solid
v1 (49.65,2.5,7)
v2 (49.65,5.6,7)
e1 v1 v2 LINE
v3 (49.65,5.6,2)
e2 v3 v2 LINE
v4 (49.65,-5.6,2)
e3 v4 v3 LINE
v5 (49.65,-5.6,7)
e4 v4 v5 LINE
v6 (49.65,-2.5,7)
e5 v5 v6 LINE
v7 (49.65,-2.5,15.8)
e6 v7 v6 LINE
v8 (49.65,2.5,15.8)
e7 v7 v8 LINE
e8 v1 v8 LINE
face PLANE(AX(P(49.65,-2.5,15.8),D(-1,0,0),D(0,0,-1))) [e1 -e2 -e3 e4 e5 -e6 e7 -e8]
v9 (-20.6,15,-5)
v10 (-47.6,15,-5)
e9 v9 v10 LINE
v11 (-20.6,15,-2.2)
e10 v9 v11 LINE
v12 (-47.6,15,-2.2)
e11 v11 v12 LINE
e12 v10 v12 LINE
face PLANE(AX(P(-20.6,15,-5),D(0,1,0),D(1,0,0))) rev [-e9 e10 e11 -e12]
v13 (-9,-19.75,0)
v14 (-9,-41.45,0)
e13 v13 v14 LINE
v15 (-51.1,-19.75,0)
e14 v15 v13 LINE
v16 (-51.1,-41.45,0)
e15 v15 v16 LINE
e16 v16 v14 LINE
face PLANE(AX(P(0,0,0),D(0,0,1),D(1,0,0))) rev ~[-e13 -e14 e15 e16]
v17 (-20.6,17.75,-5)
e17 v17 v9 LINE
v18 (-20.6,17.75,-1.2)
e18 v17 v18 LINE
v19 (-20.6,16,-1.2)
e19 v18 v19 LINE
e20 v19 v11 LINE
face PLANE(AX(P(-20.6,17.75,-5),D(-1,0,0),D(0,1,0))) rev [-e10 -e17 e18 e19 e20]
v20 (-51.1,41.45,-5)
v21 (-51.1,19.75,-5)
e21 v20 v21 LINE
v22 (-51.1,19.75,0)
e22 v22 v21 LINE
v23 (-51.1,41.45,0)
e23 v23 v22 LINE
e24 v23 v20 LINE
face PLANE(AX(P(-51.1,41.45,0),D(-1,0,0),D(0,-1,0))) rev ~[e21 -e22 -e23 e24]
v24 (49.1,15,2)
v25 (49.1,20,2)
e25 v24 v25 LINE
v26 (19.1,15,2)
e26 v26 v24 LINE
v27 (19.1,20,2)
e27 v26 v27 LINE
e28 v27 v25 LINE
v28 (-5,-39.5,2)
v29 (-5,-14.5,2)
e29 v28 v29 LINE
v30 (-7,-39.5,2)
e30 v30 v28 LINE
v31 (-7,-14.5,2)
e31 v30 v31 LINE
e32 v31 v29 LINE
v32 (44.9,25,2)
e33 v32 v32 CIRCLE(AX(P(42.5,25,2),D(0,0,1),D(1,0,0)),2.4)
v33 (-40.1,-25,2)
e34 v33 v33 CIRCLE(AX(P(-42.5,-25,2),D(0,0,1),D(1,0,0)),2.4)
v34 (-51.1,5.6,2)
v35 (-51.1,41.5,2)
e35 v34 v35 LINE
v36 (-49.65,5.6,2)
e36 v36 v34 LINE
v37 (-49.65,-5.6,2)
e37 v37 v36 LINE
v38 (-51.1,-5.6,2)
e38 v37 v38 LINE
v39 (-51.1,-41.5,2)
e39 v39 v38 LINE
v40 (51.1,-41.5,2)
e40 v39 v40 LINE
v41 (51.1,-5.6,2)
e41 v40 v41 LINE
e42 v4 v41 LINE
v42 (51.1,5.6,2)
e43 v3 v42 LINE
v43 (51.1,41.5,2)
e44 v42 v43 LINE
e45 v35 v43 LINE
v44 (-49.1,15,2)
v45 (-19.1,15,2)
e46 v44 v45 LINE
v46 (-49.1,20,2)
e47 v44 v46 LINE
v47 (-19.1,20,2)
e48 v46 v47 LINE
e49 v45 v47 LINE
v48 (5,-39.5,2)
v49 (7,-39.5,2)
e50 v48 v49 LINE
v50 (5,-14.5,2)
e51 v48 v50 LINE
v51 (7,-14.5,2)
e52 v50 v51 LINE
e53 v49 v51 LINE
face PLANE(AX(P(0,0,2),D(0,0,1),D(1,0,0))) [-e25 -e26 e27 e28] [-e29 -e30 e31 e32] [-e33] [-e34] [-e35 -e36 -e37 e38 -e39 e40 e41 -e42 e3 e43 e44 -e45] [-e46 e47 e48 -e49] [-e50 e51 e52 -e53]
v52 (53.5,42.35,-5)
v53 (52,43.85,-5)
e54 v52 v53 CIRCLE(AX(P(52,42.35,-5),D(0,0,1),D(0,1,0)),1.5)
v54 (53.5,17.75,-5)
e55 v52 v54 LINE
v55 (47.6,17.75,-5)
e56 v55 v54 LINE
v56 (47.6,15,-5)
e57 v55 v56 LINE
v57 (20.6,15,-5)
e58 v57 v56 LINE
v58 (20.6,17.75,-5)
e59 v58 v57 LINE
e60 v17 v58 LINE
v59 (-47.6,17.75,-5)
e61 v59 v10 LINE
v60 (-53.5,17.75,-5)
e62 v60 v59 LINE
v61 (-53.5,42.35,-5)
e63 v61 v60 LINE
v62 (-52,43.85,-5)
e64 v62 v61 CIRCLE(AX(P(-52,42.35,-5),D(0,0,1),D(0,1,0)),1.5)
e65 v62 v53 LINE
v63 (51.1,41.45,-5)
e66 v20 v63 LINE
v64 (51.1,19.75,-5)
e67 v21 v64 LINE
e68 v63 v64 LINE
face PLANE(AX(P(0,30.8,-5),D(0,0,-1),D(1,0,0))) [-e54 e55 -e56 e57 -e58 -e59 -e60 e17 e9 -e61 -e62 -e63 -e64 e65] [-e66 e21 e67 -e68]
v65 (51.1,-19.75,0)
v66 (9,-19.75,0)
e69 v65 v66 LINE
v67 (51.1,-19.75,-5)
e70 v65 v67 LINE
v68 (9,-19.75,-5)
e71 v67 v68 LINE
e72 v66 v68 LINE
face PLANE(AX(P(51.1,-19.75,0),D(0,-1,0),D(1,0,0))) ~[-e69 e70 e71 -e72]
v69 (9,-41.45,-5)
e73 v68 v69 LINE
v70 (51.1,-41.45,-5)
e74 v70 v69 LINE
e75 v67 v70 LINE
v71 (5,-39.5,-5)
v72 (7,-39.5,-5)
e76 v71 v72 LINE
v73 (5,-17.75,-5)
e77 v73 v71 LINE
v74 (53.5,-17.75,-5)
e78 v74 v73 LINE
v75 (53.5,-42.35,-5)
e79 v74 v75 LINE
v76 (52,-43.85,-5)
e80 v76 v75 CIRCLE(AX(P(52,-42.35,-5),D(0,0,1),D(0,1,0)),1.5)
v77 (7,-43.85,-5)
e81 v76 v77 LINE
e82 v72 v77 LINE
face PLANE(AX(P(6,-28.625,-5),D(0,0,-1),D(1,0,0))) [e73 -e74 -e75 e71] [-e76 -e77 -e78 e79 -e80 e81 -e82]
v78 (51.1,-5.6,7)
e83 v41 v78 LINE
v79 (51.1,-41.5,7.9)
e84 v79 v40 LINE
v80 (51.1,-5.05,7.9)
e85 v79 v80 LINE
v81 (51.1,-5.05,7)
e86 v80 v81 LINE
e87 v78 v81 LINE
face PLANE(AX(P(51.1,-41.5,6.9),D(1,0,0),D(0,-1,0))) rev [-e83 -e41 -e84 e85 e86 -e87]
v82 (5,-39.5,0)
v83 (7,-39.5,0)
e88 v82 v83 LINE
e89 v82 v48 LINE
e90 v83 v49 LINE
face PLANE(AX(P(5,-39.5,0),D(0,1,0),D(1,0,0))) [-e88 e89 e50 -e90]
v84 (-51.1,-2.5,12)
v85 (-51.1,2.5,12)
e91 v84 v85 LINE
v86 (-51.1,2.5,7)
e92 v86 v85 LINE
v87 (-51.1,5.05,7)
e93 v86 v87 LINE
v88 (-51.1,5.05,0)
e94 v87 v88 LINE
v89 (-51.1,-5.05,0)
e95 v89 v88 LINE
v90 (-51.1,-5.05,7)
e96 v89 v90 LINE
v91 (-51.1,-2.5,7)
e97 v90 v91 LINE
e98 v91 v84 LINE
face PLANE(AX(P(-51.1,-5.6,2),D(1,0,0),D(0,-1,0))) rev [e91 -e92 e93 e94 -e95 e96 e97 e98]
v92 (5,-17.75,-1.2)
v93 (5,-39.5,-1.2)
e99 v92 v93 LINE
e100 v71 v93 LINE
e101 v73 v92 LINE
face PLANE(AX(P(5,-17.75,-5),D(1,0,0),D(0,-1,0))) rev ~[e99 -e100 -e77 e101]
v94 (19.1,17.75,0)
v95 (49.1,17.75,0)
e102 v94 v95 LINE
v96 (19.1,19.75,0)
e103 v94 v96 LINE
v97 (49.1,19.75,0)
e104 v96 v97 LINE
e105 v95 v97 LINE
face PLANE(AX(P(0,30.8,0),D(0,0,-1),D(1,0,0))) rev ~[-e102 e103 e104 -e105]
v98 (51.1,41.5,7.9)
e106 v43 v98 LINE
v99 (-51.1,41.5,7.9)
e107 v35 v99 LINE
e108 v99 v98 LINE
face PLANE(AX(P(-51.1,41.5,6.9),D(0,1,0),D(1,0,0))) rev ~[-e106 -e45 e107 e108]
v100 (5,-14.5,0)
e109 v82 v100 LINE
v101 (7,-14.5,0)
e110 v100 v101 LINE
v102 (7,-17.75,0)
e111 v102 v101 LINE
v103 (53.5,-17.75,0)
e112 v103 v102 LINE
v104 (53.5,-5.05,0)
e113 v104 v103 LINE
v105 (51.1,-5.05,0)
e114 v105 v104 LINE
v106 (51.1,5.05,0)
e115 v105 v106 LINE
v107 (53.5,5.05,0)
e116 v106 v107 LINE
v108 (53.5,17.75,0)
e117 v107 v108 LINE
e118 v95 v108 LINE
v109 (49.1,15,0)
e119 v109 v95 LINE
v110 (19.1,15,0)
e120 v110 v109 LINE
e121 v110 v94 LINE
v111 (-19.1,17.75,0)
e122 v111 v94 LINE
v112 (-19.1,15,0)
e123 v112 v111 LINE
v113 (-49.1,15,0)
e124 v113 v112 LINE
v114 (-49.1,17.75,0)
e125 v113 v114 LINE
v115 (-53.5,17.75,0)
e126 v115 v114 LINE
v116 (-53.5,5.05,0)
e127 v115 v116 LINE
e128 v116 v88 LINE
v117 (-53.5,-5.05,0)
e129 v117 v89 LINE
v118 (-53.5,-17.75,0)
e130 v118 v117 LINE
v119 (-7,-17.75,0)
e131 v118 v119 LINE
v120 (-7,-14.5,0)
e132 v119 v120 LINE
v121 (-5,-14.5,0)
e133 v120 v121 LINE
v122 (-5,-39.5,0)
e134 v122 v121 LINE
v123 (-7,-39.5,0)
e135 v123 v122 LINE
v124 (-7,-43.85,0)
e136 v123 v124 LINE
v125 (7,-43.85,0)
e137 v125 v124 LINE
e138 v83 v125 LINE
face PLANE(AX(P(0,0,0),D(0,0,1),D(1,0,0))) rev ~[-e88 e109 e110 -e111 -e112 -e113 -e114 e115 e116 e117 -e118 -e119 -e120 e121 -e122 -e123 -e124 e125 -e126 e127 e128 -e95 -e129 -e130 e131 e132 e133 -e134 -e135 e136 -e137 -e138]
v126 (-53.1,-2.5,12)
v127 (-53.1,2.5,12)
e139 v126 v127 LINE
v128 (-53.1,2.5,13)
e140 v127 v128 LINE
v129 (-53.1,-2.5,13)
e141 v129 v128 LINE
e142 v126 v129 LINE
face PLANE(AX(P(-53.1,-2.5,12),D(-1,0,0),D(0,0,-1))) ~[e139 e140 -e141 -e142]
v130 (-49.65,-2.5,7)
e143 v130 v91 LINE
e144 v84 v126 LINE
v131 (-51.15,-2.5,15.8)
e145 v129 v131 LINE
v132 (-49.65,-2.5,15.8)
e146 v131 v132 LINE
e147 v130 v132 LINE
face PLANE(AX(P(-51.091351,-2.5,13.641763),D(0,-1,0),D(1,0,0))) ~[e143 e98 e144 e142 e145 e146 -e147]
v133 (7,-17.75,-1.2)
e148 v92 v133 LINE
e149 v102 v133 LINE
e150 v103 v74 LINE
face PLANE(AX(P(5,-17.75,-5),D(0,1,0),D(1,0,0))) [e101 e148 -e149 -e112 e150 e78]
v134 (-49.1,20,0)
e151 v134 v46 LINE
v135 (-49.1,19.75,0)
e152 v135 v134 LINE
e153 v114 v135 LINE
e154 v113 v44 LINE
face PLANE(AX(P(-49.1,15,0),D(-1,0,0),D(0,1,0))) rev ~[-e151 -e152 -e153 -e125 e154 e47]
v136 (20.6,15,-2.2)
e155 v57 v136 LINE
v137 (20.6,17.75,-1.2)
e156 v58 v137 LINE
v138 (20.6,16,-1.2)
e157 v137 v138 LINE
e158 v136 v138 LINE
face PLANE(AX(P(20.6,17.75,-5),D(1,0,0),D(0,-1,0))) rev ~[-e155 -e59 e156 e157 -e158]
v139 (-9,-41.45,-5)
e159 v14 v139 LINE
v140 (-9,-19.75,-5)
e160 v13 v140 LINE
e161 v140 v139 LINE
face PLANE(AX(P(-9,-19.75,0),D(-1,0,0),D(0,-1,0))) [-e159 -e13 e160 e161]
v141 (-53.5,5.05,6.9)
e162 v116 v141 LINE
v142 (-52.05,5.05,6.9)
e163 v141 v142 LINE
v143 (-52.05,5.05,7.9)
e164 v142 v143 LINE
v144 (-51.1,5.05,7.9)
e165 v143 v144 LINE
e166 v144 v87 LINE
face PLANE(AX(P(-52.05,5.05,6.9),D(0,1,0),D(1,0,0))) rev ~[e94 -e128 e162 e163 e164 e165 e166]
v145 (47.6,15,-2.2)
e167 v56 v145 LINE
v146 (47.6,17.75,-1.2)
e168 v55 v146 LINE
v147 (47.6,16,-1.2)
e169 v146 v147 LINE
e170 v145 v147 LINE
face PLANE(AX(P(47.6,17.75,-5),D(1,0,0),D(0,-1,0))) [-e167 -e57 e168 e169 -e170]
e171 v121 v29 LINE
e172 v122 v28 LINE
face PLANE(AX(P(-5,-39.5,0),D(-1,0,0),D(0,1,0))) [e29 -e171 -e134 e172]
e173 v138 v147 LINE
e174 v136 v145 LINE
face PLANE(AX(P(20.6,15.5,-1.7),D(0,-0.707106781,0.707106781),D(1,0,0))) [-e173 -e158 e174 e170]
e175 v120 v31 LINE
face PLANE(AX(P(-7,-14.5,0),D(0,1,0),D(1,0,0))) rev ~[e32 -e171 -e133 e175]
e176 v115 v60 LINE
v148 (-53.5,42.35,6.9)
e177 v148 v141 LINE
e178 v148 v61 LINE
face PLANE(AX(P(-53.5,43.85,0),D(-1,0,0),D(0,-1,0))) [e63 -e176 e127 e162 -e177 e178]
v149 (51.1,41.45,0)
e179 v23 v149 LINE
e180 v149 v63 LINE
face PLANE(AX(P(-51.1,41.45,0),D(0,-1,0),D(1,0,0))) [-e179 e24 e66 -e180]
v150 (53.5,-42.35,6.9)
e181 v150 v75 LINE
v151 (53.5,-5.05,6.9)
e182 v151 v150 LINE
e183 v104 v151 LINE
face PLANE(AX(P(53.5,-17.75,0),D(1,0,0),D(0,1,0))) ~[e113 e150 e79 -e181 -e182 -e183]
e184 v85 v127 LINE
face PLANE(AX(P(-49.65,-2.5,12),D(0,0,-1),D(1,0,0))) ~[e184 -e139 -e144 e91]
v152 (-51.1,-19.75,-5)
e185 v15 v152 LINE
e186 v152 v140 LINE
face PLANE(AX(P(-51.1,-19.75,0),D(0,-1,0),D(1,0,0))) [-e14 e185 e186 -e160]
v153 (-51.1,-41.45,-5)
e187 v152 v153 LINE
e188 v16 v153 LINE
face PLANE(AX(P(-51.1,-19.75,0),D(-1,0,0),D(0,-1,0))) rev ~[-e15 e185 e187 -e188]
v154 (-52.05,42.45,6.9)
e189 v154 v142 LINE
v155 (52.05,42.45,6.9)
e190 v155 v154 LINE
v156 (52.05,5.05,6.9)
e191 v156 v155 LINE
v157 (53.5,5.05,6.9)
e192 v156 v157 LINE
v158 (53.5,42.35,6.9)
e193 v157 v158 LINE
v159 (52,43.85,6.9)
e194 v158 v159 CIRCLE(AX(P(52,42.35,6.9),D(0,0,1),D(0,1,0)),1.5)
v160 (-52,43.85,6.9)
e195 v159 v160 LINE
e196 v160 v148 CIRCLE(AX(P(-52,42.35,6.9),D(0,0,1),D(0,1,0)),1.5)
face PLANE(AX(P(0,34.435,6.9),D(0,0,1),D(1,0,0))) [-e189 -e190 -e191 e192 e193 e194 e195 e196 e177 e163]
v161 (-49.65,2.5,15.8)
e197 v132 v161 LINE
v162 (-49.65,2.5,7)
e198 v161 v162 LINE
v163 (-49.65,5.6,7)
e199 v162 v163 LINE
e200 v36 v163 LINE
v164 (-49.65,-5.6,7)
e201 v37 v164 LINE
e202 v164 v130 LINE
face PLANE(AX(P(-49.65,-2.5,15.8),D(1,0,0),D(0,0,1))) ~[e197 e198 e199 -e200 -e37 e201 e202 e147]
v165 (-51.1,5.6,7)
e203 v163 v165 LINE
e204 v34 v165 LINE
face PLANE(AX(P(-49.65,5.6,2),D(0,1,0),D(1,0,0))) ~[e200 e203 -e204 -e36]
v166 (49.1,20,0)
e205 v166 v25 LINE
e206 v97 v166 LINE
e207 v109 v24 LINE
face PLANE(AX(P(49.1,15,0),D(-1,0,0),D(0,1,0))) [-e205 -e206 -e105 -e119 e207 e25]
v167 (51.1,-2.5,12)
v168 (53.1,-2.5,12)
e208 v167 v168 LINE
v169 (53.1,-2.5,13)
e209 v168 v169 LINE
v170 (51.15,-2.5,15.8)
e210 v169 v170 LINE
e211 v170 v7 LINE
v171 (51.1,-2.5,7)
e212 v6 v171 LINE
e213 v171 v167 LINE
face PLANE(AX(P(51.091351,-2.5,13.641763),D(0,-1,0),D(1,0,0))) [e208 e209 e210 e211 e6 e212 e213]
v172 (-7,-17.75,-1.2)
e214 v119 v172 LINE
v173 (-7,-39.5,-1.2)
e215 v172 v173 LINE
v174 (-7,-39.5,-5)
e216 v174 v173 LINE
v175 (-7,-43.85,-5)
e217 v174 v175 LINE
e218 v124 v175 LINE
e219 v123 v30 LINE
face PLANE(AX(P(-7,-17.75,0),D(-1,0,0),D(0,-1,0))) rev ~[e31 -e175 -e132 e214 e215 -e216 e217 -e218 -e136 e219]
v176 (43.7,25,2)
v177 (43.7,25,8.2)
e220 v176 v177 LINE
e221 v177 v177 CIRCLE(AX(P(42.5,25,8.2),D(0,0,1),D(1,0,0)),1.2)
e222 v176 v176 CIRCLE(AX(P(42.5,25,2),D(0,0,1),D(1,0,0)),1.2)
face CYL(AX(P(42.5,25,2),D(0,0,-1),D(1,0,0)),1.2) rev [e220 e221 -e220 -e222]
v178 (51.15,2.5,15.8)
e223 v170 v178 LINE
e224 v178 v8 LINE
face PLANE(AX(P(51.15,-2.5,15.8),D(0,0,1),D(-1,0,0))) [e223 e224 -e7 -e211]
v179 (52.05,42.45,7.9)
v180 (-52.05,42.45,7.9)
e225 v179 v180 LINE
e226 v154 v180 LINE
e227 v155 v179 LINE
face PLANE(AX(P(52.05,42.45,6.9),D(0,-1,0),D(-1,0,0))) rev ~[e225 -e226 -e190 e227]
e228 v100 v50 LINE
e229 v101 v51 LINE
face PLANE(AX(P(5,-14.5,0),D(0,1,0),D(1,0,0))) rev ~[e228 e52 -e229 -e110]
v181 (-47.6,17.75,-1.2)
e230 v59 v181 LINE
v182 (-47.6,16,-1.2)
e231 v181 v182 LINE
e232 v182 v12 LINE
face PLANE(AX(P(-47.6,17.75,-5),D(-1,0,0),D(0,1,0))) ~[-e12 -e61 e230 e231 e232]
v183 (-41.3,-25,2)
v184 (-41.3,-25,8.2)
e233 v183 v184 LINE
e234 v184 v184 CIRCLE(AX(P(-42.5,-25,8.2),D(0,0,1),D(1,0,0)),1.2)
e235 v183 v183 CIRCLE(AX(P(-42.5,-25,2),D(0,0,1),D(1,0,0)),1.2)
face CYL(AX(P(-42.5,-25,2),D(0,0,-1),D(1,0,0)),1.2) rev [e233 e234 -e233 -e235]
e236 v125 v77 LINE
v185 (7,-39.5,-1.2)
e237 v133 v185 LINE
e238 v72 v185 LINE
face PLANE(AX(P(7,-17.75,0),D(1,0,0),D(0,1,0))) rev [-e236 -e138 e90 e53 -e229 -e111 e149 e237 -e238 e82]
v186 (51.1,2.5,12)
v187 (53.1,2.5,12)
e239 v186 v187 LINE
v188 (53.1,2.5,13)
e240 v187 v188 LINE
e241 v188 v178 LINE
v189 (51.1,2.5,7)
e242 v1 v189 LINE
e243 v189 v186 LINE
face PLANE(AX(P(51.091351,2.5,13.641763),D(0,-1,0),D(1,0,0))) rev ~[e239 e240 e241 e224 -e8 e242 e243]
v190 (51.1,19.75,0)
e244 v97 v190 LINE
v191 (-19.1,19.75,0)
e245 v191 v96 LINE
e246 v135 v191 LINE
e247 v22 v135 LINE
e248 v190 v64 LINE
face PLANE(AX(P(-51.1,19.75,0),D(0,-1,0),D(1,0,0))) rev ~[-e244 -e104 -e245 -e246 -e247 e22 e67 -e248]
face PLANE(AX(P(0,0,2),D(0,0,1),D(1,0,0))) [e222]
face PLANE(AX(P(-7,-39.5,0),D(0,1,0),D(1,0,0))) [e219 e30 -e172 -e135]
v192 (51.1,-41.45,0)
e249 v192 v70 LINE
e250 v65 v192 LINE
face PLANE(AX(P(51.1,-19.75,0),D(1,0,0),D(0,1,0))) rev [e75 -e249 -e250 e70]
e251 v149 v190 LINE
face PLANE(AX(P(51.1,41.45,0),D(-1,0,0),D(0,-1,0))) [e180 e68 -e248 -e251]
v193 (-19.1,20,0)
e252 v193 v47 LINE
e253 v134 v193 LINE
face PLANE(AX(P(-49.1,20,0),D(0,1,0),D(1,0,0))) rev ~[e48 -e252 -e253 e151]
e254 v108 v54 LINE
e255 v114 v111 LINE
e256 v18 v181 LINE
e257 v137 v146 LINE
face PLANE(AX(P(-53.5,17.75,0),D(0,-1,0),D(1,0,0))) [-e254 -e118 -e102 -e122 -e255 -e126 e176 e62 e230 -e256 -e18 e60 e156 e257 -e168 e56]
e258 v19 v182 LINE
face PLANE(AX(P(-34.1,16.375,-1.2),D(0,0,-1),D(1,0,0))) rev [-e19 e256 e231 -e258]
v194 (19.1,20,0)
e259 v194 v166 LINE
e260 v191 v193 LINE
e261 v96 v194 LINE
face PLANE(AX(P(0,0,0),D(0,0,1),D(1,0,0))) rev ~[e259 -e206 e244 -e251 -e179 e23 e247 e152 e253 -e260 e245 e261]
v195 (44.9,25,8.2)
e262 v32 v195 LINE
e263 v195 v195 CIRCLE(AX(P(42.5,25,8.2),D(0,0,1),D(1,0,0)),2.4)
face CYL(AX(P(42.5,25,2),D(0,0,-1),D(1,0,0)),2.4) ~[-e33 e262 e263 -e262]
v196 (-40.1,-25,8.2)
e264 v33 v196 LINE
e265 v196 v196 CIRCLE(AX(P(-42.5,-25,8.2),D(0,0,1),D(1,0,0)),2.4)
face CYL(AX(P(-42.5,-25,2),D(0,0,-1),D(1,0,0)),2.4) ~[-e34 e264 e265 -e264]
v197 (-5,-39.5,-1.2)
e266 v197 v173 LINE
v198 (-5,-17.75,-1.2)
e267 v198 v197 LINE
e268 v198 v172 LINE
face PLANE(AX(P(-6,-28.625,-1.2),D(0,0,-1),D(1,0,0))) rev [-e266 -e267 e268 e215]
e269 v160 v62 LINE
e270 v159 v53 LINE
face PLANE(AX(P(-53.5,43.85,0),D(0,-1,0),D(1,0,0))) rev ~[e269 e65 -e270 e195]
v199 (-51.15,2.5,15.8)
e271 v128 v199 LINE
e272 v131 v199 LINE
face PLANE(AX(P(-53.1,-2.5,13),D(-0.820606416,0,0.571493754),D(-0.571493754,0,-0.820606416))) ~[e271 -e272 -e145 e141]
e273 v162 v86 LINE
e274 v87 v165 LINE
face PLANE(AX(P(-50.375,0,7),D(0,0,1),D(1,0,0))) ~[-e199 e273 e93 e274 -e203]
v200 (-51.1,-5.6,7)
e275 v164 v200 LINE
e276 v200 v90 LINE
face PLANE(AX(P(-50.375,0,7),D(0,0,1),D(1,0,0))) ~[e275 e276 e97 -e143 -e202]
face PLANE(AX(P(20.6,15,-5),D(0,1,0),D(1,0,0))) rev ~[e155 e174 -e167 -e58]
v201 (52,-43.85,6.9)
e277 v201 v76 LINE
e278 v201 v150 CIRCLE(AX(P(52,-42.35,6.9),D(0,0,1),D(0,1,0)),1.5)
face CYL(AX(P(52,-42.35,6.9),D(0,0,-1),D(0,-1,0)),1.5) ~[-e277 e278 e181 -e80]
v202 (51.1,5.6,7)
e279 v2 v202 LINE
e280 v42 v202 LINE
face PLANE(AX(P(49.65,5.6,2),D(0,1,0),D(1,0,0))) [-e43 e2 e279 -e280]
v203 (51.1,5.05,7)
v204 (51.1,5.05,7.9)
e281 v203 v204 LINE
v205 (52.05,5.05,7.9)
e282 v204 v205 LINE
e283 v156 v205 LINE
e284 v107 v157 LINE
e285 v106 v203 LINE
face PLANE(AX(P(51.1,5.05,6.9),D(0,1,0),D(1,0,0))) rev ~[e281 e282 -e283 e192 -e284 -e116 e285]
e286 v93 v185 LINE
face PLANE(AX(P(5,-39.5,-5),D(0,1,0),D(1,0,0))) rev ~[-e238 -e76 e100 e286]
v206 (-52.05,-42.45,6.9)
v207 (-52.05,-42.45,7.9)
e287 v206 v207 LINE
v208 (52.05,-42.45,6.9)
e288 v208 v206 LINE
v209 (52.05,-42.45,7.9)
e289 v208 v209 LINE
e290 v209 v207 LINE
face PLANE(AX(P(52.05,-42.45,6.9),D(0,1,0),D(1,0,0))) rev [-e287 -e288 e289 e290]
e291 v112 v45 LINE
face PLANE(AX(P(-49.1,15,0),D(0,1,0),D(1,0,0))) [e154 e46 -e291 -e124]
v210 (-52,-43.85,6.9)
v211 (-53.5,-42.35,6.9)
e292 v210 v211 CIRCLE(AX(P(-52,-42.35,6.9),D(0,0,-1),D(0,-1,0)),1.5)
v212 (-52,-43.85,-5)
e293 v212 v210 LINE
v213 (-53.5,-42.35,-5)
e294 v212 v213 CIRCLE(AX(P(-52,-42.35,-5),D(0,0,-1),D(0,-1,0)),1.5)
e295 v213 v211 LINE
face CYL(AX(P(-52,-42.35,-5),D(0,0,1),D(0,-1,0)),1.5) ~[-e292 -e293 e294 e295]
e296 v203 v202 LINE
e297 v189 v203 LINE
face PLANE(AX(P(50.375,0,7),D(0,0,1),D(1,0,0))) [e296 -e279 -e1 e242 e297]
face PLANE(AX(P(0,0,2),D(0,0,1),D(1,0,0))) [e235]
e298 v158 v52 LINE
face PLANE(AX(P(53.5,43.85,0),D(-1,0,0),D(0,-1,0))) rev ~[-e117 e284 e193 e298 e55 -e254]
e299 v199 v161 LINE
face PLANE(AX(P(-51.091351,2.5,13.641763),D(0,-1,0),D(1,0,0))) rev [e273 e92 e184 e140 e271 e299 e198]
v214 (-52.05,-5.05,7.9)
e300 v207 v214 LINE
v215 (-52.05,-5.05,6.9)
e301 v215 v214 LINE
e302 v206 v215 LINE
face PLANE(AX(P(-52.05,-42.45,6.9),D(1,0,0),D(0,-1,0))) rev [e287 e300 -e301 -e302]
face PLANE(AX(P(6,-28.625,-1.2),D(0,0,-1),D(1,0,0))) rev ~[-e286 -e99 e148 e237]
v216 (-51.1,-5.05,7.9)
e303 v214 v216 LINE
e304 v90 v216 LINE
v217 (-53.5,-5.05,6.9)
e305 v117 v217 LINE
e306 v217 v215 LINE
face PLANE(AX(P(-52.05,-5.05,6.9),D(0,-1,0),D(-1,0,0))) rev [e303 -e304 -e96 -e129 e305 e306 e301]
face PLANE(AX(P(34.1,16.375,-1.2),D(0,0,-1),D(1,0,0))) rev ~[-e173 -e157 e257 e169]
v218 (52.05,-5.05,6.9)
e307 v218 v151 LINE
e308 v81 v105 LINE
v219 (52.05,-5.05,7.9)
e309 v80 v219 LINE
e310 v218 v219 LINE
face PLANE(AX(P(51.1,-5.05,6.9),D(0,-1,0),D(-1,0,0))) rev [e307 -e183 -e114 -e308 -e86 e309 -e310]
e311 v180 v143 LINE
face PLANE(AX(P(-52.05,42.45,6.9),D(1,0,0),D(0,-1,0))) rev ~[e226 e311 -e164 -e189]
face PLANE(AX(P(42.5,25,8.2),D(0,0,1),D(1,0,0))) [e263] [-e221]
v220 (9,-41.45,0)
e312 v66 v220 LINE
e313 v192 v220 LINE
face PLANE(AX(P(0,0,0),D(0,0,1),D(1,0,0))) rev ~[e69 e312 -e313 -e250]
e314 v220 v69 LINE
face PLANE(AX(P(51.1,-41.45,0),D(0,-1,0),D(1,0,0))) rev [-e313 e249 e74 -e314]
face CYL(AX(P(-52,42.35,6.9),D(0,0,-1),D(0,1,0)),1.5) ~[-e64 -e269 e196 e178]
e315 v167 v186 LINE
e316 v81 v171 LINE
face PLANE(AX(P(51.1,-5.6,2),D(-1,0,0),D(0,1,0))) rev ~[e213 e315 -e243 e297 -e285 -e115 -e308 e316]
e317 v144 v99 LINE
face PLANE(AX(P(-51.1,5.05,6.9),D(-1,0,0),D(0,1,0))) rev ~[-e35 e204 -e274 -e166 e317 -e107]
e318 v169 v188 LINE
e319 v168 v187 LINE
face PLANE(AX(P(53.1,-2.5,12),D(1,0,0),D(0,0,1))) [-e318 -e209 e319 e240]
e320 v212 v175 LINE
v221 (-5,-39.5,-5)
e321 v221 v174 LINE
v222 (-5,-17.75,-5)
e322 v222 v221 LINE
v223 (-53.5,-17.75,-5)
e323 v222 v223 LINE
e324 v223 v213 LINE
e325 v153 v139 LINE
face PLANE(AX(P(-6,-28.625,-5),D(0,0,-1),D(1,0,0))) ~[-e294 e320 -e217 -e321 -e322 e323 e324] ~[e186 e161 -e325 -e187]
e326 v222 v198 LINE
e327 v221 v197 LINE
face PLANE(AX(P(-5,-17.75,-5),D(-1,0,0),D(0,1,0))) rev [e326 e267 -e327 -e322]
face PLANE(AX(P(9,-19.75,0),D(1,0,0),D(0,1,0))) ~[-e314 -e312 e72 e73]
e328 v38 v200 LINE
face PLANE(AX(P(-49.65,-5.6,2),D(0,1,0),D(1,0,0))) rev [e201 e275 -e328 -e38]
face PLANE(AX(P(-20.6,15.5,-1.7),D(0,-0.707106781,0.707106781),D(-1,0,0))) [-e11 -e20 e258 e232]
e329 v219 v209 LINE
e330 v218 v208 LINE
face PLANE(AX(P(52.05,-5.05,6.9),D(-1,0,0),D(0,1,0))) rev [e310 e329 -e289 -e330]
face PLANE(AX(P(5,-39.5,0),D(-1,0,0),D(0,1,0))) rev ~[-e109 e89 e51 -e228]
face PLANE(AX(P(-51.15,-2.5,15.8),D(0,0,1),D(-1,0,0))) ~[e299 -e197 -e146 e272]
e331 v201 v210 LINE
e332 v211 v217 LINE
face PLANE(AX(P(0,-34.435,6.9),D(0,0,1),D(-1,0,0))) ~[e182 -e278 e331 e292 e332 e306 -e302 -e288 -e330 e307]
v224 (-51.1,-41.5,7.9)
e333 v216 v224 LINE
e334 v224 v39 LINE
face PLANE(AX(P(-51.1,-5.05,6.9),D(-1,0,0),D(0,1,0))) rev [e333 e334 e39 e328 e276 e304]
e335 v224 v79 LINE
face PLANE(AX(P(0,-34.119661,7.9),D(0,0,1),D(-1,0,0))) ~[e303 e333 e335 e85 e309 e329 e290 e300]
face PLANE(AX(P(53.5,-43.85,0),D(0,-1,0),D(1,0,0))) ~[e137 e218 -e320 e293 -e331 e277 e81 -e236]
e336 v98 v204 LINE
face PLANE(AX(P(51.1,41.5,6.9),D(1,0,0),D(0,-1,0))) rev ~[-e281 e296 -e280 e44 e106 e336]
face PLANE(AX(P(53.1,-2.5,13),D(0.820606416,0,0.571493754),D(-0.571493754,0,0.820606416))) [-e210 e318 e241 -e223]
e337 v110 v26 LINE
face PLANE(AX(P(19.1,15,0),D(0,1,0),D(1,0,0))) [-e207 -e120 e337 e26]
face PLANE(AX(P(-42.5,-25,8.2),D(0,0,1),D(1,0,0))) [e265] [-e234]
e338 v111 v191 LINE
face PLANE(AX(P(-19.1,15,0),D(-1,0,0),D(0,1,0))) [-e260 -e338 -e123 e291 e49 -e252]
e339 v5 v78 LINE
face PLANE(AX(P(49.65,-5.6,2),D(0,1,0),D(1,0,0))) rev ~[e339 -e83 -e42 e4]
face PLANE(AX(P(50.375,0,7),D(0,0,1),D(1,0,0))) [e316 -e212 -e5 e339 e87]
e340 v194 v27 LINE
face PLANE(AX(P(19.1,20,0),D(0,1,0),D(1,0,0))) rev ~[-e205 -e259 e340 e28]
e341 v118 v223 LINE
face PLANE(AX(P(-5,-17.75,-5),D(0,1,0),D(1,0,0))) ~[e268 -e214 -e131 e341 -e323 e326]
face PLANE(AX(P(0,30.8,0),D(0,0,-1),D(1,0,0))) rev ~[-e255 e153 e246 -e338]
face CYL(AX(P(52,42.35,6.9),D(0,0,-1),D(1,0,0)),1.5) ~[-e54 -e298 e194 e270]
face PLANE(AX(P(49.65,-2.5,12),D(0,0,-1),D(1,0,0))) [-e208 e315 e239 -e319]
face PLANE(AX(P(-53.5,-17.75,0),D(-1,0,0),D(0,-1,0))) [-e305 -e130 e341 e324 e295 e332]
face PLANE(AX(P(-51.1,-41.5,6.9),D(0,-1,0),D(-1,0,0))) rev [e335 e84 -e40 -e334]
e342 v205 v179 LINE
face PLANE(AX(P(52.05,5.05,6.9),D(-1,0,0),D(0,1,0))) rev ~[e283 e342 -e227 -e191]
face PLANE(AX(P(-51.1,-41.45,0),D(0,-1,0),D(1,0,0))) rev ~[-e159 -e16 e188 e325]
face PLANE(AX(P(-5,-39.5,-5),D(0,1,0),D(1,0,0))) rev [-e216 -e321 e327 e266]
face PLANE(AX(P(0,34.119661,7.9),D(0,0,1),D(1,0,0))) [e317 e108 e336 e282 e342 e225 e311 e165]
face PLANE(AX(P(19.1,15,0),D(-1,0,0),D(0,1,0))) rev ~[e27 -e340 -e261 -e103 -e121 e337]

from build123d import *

# Parameters (mm, degrees)
SKETCH_W      = 102.2
SKETCH_H      = 83
SKETCH_W_2    = 30
SKETCH_H_2    = 5
SKETCH_W_3    = 2
SKETCH_H_3    = 25
PAD_DEPTH     = 2
SKETCH001_R   = 2.4
SKETCH001_R_2 = 1.2
PAD001_DEPTH  = 6.2
PAD002_DEPTH  = 6.9
PAD003_DEPTH  = 1
SKETCH004_W   = 1.45
SKETCH004_H   = 11.2
PAD004_DEPTH  = 5
SKETCH005_W   = 1.45
SKETCH005_H   = 5
PAD005_DEPTH  = 5
PAD006_DEPTH  = 5
SKETCH007_W   = 107
SKETCH007_H   = 26.1
SKETCH007_W_2 = 102.2
SKETCH007_H_2 = 21.7
PAD007_DEPTH  = 5
SKETCH008_W   = 27
SKETCH008_H   = 2.75
PAD008_DEPTH  = 3.8
CHAMFER_SIZE  = 1
SKETCH009_W   = 46.5
SKETCH009_H   = 26.1
SKETCH009_W_2 = 42.1
SKETCH009_H_2 = 21.7
PAD009_DEPTH  = 5
SKETCH010_W   = 2
SKETCH010_H   = 21.75
PAD010_DEPTH  = 3.8
FILLET_R      = 1.5


with BuildPart() as part:
    # Sketch → Pad (new body)
    with BuildSketch(Plane.XY):
        Rectangle(SKETCH_W, SKETCH_H)
        with Locations((34.1, 17.5)):
            Rectangle(SKETCH_W_2, SKETCH_H_2, mode=Mode.SUBTRACT)
        with Locations((-34.1, 17.5)):
            Rectangle(SKETCH_W_2, SKETCH_H_2, mode=Mode.SUBTRACT)
        with Locations((6, -27)):
            Rectangle(SKETCH_W_3, SKETCH_H_3, mode=Mode.SUBTRACT)
        with Locations((-6, -27)):
            Rectangle(SKETCH_W_3, SKETCH_H_3, mode=Mode.SUBTRACT)
    extrude(amount=PAD_DEPTH)

    # Sketch001 (on Face22 of Pad) → Pad001 (join)
    with BuildSketch(Plane.XY.offset(2)):
        with Locations((-42.5, -25)):
            Circle(SKETCH001_R)
        with Locations((-42.5, -25)):
            Circle(SKETCH001_R_2, mode=Mode.SUBTRACT)
        with Locations((42.5, 25)):
            Circle(SKETCH001_R)
        with Locations((42.5, 25)):
            Circle(SKETCH001_R_2, mode=Mode.SUBTRACT)
    extrude(amount=PAD001_DEPTH)

    # Sketch002 → Pad002 (join)
    with BuildSketch(Plane.XY):
        Polygon((-51.1, 41.5), (51.1, 41.5), (51.1, 5.05), (53.5, 5.05), (53.5, 43.85), (-53.5, 43.85), (-53.5, 5.05), (-51.1, 5.05), align=None)
    pad002 = extrude(amount=PAD002_DEPTH)

    # Mirrored: Pad002 across XZ
    add(pad002.mirror(Plane.XZ))

    # Sketch003 (on Face36 of Mirrored) → Pad003 (join)
    with BuildSketch(Plane.XY.offset(6.9)):
        Polygon((-51.1, 5.05), (-51.1, 41.5), (51.1, 41.5), (51.1, 5.05), (52.05, 5.05), (52.05, 42.45), (-52.05, 42.45), (-52.05, 5.05), align=None)
    pad003 = extrude(amount=PAD003_DEPTH)

    # Mirrored001: Pad003 across XZ
    add(pad003.mirror(Plane.XZ))

    # Sketch004 (on Face3 of Mirrored001) → Pad004 (join)
    with BuildSketch(Plane.XY.offset(2)):
        with Locations((50.375, 0)):
            Rectangle(SKETCH004_W, SKETCH004_H)
    pad004 = extrude(amount=PAD004_DEPTH)

    # Mirrored002: Pad004 across YZ
    add(pad004.mirror(Plane.YZ))

    # Sketch005 (on Face40 of Mirrored002) → Pad005 (join)
    with BuildSketch(Plane.XY.offset(7)):
        with Locations((50.375, 0)):
            Rectangle(SKETCH005_W, SKETCH005_H)
    pad005 = extrude(amount=PAD005_DEPTH)

    # Mirrored003: Pad005 across YZ
    add(pad005.mirror(Plane.YZ))

    # Sketch006 (on Face2 of Mirrored003) → Pad006 (join)
    with BuildSketch(Plane.XZ.offset(2.5)):
        Polygon((49.65, 12), (51.1, 12), (53.1, 12), (53.1, 13), (51.15, 15.8), (49.65, 15.8), align=None)
    pad006 = extrude(amount=-PAD006_DEPTH)

    # Mirrored004: Pad006 across YZ
    add(pad006.mirror(Plane.YZ))

    # Sketch007 (on Face13 of Mirrored004) → Pad007 (join)
    with BuildSketch(Plane(origin=(0, 0, 0), x_dir=(1, 0, 0), z_dir=(0, 0, -1))):
        with Locations((0, -30.8)):
            Rectangle(SKETCH007_W, SKETCH007_H)
        with Locations((0, -30.6)):
            Rectangle(SKETCH007_W_2, SKETCH007_H_2, mode=Mode.SUBTRACT)
    extrude(amount=PAD007_DEPTH)

    # Sketch008 (on Face70 of Pad007) → Pad008 (join)
    with BuildSketch(Plane(origin=(0, 0, -5), x_dir=(1, 0, 0), z_dir=(0, 0, -1))):
        with Locations((34.1, -16.375)):
            Rectangle(SKETCH008_W, SKETCH008_H)
    pad008 = extrude(amount=-PAD008_DEPTH)

    # Mirrored005: Pad008 across YZ
    add(pad008.mirror(Plane.YZ))

    # Chamfer
    chamfer_edges = [part.edges().sort_by_distance(p)[0] for p in [
        (-34.1, 15, -1.2),
        (34.1, 15, -1.2),
    ]]
    chamfer(chamfer_edges, length=CHAMFER_SIZE)

    # Sketch009 (on Face18 of Chamfer) → Pad009 (join)
    with BuildSketch(Plane(origin=(0, 0, 0), x_dir=(1, 0, 0), z_dir=(0, 0, -1))):
        with Locations((-30.25, 30.8)):
            Rectangle(SKETCH009_W, SKETCH009_H)
        with Locations((-30.05, 30.6)):
            Rectangle(SKETCH009_W_2, SKETCH009_H_2, mode=Mode.SUBTRACT)
    pad009 = extrude(amount=PAD009_DEPTH)

    # Mirrored006: Pad009 across YZ
    add(pad009.mirror(Plane.YZ))

    # Sketch010 (on Face66 of Mirrored006) → Pad010 (join)
    with BuildSketch(Plane(origin=(0, 0, -5), x_dir=(1, 0, 0), z_dir=(0, 0, -1))):
        with Locations((6, 28.625)):
            Rectangle(SKETCH010_W, SKETCH010_H)
    pad010 = extrude(amount=-PAD010_DEPTH)

    # Mirrored007: Pad010 across YZ
    add(pad010.mirror(Plane.YZ))

    # Fillet
    fillet_edges = [part.edges().sort_by_distance(p)[0] for p in [
        (53.5, -43.85, 0.95),
        (-53.5, -43.85, 0.95),
        (53.5, 43.85, 0.95),
        (-53.5, 43.85, 0.95),
    ]]
    fillet(fillet_edges, radius=FILLET_R)


solid = part.part
